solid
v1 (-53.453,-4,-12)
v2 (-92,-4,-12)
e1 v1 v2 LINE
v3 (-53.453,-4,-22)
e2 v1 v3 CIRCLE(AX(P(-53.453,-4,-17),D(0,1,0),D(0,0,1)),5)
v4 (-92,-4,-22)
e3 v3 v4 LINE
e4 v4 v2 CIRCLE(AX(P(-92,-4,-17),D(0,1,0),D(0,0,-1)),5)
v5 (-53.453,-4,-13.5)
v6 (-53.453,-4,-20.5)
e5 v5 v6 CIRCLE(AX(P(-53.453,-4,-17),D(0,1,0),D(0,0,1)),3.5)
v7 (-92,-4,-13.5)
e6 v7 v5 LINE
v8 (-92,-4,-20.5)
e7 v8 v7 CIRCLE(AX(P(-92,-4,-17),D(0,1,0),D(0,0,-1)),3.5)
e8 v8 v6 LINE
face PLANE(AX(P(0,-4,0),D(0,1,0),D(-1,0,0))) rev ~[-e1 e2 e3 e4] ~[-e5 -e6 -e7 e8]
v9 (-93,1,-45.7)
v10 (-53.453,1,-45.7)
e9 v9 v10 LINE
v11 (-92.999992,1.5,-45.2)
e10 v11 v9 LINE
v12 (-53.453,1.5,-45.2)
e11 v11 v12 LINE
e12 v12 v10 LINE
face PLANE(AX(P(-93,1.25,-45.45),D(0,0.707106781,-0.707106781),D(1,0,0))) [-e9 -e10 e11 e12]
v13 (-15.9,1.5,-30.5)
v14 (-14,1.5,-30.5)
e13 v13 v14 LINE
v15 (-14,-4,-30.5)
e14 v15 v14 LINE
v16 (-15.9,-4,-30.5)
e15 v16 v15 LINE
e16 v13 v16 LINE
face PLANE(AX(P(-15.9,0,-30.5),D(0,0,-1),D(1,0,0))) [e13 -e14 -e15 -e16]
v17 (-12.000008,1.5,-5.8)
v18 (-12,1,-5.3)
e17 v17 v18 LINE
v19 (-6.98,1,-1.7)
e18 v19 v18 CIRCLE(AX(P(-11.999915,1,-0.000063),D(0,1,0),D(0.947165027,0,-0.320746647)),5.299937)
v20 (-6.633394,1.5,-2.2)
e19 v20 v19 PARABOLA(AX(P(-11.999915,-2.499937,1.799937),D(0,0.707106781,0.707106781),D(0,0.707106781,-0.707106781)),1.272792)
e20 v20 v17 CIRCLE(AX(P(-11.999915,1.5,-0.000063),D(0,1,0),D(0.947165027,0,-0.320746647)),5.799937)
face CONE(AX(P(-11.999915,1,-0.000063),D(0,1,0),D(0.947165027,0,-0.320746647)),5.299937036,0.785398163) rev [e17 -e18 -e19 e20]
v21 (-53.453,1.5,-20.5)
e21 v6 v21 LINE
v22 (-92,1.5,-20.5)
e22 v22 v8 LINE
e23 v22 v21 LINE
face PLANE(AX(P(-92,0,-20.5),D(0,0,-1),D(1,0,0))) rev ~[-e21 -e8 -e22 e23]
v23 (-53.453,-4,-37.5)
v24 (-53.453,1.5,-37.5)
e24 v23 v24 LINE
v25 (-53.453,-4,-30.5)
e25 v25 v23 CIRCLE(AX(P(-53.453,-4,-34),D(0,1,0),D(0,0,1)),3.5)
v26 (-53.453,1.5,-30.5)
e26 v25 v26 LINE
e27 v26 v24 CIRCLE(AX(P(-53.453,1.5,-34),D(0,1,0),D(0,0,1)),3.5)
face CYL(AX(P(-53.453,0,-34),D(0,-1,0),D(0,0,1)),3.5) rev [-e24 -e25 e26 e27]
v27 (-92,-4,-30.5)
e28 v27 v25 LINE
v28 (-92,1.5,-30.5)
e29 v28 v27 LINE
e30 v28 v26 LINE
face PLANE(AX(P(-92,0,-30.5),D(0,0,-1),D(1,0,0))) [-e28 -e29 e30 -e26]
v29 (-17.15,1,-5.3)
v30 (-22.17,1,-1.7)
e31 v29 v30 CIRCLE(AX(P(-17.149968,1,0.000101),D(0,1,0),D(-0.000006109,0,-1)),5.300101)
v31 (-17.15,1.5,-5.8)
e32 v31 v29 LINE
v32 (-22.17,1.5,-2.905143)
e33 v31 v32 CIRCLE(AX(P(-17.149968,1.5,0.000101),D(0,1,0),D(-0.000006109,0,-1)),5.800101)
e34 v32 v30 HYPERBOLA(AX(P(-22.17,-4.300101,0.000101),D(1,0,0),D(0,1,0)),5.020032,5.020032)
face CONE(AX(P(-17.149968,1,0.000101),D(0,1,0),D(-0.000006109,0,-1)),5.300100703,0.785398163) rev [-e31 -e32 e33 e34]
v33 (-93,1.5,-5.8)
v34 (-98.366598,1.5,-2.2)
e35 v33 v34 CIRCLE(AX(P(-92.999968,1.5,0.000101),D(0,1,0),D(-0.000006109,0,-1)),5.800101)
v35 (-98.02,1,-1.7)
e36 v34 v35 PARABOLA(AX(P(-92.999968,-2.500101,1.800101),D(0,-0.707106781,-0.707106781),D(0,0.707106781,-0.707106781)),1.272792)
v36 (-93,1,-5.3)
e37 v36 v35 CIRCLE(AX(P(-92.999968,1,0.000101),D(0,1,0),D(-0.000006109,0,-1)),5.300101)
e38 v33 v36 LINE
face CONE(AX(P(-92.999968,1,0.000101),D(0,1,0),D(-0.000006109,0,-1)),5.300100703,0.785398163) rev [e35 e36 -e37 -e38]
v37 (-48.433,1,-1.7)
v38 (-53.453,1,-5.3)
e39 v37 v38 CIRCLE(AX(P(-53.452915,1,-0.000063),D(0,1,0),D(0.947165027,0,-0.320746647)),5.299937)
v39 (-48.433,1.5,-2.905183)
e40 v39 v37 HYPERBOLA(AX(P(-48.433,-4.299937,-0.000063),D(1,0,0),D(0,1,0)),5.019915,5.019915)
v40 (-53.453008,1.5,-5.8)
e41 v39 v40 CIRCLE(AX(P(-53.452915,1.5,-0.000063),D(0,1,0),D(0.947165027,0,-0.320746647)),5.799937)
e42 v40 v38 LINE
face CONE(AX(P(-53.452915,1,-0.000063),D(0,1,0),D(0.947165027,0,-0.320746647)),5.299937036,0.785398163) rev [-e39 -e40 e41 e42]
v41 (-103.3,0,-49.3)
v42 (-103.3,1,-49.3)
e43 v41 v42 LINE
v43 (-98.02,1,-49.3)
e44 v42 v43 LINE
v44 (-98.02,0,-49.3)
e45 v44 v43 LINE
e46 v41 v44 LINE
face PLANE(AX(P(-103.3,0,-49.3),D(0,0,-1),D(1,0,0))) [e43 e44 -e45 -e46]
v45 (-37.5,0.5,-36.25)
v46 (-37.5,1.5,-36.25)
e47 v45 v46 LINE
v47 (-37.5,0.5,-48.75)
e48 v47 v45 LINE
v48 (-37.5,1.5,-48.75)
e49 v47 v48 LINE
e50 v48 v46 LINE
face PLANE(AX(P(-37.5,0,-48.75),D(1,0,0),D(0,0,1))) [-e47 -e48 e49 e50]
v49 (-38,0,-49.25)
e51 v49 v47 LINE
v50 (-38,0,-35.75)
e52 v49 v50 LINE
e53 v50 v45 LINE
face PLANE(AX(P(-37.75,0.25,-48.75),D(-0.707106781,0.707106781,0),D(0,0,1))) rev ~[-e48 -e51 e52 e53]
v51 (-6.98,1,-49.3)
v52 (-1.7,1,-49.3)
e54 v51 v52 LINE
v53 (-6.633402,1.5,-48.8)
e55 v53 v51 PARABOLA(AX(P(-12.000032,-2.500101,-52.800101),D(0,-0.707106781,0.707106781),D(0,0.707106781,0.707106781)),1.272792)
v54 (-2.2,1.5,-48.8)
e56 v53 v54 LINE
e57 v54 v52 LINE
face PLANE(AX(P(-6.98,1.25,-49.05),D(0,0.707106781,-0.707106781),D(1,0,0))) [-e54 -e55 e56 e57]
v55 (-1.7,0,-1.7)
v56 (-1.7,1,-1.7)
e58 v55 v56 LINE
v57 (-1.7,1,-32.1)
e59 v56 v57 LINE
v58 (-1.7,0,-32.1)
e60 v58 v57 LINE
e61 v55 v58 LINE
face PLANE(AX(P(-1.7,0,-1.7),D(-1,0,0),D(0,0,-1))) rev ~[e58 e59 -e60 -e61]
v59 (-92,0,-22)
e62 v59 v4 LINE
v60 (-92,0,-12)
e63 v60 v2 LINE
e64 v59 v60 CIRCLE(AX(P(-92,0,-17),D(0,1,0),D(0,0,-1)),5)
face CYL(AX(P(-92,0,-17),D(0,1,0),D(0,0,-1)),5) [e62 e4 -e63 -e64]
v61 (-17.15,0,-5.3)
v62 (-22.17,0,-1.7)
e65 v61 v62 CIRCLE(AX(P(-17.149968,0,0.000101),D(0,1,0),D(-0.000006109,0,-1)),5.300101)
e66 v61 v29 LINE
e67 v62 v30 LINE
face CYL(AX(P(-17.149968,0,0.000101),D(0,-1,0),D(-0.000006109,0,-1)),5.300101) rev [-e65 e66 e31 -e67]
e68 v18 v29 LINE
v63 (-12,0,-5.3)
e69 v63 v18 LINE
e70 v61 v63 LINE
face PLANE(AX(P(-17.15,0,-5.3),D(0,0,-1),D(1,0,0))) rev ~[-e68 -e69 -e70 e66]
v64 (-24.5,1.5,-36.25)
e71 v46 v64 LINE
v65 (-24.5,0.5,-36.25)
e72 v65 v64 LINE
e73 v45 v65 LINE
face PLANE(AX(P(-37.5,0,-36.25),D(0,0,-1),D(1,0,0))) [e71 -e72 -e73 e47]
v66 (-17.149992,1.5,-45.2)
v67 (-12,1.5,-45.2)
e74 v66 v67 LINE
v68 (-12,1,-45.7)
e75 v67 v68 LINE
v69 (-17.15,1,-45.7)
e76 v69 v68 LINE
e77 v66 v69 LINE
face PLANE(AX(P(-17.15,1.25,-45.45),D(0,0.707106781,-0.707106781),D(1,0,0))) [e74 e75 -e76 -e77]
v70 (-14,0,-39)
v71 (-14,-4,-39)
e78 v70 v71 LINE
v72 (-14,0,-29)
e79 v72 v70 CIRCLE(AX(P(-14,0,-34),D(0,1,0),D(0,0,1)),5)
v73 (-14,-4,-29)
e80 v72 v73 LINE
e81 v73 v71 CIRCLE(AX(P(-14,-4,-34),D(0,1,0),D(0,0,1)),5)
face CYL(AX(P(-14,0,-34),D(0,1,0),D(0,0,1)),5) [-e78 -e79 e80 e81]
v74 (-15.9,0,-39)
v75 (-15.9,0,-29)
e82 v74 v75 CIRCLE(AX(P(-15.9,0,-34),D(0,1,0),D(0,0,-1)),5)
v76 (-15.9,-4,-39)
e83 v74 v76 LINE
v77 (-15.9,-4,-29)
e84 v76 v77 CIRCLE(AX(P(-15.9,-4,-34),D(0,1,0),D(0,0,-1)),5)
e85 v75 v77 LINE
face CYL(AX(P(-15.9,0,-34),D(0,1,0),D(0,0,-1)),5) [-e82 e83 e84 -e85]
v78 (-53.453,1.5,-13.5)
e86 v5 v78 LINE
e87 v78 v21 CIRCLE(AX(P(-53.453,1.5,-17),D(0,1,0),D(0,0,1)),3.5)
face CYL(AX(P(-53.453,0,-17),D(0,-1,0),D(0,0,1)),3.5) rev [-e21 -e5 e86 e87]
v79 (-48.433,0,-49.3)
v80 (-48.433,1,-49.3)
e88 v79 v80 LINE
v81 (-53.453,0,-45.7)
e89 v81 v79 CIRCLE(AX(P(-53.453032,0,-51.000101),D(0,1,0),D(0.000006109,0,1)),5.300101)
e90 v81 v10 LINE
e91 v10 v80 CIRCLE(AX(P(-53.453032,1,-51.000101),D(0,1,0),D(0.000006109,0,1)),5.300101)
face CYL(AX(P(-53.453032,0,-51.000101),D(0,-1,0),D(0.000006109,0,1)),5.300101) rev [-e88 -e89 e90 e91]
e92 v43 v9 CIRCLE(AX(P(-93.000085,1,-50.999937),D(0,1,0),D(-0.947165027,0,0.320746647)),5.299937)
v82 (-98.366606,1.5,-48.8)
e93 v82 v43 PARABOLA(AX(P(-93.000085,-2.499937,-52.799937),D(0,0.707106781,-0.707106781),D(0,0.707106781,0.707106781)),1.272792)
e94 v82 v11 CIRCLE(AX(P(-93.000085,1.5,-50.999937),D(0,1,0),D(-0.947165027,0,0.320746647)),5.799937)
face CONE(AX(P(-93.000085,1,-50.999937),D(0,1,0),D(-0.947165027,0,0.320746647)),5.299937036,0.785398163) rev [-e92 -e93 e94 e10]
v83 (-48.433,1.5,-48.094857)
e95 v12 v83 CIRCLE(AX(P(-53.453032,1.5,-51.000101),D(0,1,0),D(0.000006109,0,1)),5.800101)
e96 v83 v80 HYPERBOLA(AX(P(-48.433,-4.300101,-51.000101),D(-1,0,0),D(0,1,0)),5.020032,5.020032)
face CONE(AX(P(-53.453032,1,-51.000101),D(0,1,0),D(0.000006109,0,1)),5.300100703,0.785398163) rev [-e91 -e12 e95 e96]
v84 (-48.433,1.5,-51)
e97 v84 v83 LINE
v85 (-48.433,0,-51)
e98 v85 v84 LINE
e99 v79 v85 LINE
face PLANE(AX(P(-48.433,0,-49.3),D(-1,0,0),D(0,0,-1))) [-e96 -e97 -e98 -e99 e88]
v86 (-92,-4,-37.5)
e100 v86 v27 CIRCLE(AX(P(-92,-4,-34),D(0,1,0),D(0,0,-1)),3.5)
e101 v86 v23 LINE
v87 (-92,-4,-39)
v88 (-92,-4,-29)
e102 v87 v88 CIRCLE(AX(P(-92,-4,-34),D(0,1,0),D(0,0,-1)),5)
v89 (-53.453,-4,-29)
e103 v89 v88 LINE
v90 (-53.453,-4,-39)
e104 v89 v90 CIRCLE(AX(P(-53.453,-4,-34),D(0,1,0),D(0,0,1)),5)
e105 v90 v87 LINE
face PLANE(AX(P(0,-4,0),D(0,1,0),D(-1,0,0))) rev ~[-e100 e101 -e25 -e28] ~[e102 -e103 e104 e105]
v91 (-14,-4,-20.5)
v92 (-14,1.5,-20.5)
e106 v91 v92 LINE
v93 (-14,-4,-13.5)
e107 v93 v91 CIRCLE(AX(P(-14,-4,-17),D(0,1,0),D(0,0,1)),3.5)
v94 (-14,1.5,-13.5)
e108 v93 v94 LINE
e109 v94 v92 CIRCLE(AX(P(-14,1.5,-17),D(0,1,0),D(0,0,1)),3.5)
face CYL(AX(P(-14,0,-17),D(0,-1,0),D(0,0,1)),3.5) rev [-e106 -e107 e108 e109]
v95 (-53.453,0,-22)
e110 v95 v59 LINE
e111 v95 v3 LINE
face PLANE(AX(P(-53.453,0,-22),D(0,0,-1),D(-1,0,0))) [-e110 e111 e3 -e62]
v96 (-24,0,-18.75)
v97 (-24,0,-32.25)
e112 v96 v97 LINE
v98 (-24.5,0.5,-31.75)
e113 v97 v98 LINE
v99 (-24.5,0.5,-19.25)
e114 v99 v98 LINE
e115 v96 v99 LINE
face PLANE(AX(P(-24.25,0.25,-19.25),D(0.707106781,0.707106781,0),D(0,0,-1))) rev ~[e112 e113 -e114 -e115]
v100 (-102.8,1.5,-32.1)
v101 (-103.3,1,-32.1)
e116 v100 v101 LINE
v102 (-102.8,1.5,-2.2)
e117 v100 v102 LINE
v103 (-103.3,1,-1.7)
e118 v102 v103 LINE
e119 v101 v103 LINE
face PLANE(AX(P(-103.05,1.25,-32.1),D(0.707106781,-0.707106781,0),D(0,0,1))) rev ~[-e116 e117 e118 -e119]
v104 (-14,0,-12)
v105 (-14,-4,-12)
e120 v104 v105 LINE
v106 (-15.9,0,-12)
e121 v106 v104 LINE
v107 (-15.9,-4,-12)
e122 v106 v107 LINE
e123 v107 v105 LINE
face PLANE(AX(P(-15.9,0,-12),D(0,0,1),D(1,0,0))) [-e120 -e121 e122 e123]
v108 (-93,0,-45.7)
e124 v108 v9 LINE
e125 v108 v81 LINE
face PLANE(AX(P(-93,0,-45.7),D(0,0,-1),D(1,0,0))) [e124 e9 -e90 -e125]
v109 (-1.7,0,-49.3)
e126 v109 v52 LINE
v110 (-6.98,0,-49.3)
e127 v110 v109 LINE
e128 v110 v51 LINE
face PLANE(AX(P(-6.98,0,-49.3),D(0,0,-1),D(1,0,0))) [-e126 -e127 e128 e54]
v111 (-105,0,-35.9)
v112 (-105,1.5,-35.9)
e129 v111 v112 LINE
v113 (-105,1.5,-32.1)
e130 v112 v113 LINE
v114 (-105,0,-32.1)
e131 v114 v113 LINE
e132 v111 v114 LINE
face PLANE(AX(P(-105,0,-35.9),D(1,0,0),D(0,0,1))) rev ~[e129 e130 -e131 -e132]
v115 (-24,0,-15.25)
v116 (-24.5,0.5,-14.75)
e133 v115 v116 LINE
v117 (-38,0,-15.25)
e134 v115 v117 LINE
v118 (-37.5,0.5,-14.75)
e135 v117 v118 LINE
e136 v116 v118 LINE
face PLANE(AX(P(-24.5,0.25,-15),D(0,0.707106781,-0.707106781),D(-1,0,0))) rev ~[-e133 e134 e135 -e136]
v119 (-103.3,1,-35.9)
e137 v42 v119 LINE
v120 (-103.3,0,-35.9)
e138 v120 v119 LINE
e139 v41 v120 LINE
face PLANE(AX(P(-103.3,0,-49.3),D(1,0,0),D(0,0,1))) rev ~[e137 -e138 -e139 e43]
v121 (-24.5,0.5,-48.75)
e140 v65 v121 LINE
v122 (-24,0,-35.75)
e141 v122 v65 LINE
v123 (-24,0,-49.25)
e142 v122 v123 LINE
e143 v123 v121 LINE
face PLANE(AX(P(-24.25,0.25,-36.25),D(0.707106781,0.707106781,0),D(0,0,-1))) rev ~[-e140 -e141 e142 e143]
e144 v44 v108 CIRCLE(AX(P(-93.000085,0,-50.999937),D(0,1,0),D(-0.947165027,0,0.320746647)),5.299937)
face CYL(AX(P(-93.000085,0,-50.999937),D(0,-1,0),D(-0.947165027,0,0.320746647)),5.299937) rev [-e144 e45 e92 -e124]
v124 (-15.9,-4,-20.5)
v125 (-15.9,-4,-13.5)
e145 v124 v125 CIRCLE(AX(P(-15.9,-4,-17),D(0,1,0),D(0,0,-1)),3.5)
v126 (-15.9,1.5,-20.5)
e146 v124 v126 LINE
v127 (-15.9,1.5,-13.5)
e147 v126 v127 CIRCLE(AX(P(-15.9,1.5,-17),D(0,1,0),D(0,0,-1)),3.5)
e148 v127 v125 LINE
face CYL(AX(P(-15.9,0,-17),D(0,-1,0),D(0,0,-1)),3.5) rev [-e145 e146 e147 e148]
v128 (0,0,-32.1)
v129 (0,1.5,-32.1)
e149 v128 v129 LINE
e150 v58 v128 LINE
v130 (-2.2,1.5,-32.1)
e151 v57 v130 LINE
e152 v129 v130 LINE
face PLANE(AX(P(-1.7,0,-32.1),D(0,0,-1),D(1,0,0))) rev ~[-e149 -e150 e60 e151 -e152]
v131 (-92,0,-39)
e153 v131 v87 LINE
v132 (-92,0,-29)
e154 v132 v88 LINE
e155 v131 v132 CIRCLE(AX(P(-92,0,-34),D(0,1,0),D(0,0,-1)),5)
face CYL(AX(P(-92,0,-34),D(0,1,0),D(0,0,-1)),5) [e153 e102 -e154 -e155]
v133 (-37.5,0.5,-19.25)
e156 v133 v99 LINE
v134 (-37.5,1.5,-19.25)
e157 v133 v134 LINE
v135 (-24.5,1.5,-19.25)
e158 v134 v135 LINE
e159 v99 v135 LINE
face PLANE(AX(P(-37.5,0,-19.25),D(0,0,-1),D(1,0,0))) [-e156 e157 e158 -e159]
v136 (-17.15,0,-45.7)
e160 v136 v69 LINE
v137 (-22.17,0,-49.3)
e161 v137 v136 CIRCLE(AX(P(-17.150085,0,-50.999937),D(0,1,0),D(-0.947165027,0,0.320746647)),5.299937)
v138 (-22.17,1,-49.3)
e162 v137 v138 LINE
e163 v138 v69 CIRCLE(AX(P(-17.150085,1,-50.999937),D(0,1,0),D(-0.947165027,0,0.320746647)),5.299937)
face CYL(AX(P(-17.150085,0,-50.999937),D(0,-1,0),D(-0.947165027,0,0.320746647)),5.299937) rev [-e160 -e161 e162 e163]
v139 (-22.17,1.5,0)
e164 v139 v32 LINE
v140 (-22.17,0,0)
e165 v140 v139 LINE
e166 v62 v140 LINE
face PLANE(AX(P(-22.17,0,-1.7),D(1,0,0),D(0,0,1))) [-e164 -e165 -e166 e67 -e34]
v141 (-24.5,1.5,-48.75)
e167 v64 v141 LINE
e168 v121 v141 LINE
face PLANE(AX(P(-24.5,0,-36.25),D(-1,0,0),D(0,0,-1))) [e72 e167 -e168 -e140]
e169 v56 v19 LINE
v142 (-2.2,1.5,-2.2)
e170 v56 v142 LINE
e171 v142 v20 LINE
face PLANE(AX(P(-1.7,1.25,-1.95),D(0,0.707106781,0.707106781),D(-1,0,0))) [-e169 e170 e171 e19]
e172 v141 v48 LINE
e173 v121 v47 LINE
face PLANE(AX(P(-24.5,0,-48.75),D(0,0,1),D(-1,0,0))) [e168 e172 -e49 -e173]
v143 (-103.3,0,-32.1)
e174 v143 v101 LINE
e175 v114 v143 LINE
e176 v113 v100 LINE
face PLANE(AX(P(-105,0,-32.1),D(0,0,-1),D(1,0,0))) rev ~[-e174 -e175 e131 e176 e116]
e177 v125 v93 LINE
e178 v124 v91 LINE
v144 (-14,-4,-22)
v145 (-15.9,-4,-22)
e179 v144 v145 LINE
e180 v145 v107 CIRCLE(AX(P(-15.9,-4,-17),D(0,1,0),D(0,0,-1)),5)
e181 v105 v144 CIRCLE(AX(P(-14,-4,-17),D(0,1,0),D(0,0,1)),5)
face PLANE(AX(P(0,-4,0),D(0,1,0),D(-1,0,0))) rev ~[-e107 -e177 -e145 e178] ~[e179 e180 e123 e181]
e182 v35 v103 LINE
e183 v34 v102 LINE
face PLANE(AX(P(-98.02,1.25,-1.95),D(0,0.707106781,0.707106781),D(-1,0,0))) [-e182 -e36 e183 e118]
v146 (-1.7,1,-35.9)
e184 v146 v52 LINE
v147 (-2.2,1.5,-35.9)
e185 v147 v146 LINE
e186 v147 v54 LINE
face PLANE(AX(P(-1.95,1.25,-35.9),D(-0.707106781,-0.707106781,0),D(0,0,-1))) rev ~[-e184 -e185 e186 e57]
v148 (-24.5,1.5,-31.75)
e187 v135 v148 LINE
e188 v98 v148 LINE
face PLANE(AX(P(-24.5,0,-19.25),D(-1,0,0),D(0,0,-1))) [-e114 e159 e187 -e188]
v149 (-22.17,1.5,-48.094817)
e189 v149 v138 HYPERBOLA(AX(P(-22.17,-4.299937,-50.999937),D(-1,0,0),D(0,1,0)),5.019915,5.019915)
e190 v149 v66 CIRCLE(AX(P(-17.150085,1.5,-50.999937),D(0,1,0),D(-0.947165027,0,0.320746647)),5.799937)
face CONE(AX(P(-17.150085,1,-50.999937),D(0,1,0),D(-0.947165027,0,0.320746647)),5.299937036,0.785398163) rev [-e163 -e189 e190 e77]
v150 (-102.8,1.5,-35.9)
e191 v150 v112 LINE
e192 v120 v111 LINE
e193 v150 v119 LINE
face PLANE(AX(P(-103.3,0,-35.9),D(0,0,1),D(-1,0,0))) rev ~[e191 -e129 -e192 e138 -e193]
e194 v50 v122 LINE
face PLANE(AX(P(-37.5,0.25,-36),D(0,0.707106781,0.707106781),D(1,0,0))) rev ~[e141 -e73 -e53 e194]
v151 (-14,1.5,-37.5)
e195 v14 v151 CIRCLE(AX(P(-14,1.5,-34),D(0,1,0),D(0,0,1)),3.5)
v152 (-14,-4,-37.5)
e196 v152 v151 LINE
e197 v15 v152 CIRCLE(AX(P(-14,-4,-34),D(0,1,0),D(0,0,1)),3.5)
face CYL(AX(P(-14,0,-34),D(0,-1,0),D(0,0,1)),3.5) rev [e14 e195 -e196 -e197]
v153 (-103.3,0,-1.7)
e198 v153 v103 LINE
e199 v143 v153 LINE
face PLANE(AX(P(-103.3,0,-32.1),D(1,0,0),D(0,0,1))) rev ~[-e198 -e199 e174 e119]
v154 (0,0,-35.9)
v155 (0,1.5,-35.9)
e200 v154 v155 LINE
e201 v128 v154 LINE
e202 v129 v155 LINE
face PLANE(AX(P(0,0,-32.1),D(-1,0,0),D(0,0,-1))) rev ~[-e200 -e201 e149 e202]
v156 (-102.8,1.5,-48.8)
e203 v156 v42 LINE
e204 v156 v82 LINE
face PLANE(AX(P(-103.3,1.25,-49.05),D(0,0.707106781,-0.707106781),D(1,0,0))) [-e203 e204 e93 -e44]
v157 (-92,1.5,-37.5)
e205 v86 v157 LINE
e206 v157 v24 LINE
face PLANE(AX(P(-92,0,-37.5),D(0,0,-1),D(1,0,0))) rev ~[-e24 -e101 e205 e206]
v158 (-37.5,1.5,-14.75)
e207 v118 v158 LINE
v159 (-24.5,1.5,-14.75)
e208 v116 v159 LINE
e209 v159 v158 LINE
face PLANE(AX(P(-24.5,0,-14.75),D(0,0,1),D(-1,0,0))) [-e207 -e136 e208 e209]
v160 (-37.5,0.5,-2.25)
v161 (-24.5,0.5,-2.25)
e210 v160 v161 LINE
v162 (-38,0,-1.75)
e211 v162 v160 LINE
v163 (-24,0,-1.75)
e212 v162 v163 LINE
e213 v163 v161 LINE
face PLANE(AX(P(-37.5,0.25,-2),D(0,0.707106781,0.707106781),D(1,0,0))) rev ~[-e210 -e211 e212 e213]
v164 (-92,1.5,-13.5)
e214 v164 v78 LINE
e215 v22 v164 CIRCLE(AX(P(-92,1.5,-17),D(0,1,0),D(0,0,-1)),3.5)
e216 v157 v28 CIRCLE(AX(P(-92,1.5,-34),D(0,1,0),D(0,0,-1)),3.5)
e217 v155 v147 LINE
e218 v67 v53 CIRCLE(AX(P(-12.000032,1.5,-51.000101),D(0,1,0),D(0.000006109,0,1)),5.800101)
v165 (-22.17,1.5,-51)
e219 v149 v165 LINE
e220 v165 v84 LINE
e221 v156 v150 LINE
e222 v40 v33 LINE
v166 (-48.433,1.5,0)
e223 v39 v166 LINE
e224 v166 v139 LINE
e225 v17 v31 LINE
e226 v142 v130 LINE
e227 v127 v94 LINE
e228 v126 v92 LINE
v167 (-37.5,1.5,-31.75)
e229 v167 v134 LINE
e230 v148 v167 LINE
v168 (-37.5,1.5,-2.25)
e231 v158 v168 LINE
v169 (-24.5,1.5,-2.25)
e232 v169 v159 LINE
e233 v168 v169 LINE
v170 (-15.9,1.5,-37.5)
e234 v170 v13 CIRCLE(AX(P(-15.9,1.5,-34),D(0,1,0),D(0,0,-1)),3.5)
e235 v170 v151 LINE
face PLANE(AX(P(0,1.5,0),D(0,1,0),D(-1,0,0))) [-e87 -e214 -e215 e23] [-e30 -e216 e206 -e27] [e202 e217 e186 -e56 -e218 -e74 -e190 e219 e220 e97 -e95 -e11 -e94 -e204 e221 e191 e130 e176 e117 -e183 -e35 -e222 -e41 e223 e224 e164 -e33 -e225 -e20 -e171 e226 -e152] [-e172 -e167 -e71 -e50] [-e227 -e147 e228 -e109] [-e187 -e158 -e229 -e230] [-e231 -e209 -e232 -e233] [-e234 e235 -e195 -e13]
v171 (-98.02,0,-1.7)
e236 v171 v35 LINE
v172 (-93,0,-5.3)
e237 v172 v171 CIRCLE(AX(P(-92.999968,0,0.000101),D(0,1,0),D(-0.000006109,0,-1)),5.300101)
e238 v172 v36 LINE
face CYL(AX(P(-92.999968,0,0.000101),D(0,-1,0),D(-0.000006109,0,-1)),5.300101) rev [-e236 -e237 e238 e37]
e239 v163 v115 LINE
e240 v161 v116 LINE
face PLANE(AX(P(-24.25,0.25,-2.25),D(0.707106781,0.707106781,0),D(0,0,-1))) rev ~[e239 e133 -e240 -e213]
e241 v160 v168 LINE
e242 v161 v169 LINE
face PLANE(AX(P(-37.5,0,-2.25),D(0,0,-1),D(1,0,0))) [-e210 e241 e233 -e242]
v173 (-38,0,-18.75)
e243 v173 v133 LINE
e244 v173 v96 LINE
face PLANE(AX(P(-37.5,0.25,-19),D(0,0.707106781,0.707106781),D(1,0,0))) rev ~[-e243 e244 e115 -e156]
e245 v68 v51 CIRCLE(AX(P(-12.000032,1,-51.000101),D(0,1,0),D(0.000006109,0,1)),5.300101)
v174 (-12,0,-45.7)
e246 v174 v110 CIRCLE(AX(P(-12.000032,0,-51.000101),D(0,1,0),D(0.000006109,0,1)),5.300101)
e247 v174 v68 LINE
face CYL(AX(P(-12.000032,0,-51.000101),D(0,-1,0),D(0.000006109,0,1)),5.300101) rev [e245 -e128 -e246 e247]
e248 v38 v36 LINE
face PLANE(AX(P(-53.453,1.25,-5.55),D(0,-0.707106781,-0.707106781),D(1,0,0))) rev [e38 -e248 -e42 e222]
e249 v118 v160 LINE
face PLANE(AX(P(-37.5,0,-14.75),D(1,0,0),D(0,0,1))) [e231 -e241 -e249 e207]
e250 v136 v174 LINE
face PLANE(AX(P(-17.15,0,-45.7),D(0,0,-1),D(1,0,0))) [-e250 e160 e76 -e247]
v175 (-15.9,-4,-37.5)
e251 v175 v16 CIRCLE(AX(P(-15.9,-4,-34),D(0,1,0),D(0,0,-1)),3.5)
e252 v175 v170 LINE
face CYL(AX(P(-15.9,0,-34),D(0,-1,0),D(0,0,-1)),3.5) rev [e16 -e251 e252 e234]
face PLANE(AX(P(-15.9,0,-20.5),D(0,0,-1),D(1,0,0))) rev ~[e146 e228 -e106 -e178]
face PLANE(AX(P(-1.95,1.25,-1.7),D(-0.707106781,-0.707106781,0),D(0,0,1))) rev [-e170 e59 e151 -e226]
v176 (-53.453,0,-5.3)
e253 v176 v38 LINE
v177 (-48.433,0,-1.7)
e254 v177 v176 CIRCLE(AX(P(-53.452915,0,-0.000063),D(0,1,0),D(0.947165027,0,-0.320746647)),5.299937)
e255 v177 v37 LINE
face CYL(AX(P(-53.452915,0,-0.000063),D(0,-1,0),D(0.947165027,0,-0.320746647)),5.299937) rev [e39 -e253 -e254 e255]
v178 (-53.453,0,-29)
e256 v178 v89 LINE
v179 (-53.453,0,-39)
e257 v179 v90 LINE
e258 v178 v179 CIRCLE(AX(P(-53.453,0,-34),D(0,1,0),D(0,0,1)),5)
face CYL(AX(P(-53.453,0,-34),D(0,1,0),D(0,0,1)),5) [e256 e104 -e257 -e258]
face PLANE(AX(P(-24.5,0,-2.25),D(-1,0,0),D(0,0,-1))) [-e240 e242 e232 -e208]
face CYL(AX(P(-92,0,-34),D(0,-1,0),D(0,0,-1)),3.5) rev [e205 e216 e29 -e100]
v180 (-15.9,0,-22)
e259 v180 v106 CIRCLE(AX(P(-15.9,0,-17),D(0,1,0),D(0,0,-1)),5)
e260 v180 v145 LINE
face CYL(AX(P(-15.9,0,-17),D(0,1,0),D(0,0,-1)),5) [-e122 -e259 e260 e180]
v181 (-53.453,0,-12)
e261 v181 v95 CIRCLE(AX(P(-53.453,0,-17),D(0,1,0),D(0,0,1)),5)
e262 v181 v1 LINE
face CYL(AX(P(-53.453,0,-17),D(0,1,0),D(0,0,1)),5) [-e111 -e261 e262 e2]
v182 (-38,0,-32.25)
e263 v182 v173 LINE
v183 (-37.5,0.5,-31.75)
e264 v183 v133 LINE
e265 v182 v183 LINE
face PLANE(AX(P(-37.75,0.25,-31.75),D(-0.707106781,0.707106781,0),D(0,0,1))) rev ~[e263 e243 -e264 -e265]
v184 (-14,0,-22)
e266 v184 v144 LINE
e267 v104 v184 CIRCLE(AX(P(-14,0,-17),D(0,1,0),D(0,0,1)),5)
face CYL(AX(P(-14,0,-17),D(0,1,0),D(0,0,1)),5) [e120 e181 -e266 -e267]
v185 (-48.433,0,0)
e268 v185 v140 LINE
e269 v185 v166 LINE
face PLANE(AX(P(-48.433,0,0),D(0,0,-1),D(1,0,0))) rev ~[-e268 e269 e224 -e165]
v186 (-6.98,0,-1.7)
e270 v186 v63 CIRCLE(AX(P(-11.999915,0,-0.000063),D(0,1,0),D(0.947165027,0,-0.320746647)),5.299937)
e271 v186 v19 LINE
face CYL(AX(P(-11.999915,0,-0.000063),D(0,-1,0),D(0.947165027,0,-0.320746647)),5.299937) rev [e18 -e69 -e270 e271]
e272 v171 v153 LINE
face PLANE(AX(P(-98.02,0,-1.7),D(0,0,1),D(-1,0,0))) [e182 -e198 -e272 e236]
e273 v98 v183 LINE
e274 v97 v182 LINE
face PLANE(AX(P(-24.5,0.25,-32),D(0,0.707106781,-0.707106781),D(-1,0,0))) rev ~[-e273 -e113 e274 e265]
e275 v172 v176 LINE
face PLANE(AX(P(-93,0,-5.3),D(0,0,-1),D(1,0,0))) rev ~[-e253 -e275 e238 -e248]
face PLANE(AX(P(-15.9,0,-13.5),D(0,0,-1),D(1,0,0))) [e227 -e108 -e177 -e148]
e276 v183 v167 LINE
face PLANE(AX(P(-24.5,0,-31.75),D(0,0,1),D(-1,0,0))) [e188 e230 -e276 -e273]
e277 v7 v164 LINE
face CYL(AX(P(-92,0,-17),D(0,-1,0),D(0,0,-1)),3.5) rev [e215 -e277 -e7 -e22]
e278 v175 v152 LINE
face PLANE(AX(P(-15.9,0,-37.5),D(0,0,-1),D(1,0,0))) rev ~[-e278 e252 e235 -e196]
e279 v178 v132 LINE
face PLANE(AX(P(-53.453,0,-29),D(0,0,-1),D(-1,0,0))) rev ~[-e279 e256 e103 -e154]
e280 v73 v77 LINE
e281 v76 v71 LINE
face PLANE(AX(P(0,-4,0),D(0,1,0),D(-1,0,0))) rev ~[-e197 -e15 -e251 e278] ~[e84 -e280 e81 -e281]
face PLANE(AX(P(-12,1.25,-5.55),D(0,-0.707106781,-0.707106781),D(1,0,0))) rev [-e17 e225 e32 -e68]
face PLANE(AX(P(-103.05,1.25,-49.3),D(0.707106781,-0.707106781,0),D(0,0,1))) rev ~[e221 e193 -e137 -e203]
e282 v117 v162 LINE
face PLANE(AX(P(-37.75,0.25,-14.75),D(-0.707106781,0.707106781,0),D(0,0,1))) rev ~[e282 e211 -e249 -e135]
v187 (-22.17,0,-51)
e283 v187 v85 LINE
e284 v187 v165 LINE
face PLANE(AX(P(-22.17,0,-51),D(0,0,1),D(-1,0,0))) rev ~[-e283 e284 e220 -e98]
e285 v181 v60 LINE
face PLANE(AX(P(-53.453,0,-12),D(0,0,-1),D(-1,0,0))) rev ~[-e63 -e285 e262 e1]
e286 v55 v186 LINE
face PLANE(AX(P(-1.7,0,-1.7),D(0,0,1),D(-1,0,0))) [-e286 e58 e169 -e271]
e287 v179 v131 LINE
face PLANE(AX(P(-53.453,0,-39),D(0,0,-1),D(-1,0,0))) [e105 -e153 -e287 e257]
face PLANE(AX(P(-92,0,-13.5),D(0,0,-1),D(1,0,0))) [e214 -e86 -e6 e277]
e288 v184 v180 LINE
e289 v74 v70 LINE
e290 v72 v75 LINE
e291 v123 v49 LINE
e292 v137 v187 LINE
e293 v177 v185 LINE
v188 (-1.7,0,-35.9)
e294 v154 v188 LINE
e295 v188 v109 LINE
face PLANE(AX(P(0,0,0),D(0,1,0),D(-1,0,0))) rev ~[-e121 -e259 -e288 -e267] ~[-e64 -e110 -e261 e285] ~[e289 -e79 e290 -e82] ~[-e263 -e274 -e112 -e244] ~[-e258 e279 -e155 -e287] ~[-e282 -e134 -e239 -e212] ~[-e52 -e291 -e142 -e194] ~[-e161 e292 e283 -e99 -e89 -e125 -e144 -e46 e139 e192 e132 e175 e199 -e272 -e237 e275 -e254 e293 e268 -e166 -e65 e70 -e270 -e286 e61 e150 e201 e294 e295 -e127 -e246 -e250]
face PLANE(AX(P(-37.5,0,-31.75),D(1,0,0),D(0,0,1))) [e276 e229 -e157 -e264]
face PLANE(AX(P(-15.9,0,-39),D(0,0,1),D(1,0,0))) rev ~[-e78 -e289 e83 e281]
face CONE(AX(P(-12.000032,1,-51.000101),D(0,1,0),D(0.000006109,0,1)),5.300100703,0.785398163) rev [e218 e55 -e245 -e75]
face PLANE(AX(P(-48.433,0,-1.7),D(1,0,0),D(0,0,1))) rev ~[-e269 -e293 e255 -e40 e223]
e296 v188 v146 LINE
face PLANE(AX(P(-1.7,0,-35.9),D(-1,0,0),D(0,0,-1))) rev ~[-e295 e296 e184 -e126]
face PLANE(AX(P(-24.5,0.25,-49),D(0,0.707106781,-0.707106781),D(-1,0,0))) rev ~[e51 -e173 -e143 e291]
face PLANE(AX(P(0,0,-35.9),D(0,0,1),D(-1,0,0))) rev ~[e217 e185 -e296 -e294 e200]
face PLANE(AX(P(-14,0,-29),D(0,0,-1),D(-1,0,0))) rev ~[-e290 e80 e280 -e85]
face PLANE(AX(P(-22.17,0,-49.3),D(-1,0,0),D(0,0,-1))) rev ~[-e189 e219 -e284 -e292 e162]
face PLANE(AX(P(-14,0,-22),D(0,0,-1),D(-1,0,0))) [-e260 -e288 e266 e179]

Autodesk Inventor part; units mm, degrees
ref_plane "YZ Plane" through (0, 0, 0) normal (1, 0, 0) x (0, 1, 0)
ref_plane "XZ Plane" through (0, 0, 0) normal (0, 1, 0) x (-1, 0, 0)
ref_plane "XY Plane" through (0, 0, 0) normal (0, 0, 1) x (1, 0, 0)
sketch "Sketch1" plane through (0, 0, 0) normal (0, 1, 0) x (-1, 0, 0)
  line L0 (37.5, -2.25) -> (24.5, -2.25)
  line L1 (24.5, -2.25) -> (24.5, -14.75)
  line L2 (24.5, -14.75) -> (37.5, -14.75)
  line L3 (37.5, -14.75) -> (37.5, -2.25)
  line L4 (56.9183, -8.5) -> (8.3915, -8.5) construction
  line L5 (0, -17) -> (105, -17) construction
  line L6 (0, 0) -> (0, -51)
  line L7 (0, -34) -> (105, -34) construction
  line L8 (105, -51) -> (105, 0)
  line L9 (31, 19) -> (31, -51) construction
  line L10 (56.8064, -25.5) -> (17, -25.5) construction
  line L11 (24.5, -19.25) -> (24.5, -31.75)
  line L12 (37.5, -19.25) -> (24.5, -19.25)
  line L13 (37.5, -31.75) -> (37.5, -19.25)
  line L14 (24.5, -31.75) -> (37.5, -31.75)
  line L15 (24.5, -36.25) -> (24.5, -48.75)
  line L16 (37.5, -36.25) -> (24.5, -36.25)
  line L17 (37.5, -48.75) -> (37.5, -36.25)
  line L18 (24.5, -48.75) -> (37.5, -48.75)
  line L19 (56.3008, -42.5) -> (16.5498, -42.5) construction
  arc A0 (53.453, -12) -> (53.453, -22) centre (53.453, -17) ccw
  arc A1 (92, -22) -> (92, -12) centre (92, -17) ccw
  arc A2 (53.453, -29) -> (53.453, -39) centre (53.453, -34) ccw
  arc A3 (92, -39) -> (92, -29) centre (92, -34) ccw
  line L20 (53.453, -12) -> (92, -12)
  line L21 (53.453, -22) -> (92, -22)
  line L22 (53.453, -29) -> (92, -29)
  line L23 (53.453, -39) -> (92, -39)
  arc A4 (15.9, -39) -> (15.9, -29) centre (15.9, -34) ccw
  line L24 (103.3, -49.3) -> (103.3, -1.7)
  line L25 (1.7, -1.7) -> (1.7, -49.3)
  arc A5 (14, -29) -> (14, -39) centre (14, -34) ccw
  arc A6 (14, -12) -> (14, -22) centre (14, -17) ccw
  line L26 (15.9, -39) -> (14, -39)
  line L27 (14, -29) -> (15.9, -29)
  line L28 (14, -22) -> (15.9, -22)
  line L29 (15.9, -12) -> (14, -12)
  arc A7 (15.9, -22) -> (15.9, -12) centre (15.9, -17) ccw
  arc A8 (96.5, -51) -> (93, -47.5) centre (93, -51) ccw
  arc A9 (53.453, -47.5) -> (49.953, -51) centre (53.453, -51) ccw
  arc A10 (98.02, -49.3) -> (93, -45.7) centre (93, -51) ccw
  line L30 (93, -45.7) -> (53.453, -45.7)
  line L31 (96.5, -51) -> (105, -51)
  line L32 (93, -47.5) -> (53.453, -47.5)
  line L33 (105, -49.3) -> (98.02, -49.3)
  arc A11 (53.453, -45.7) -> (48.433, -49.3) centre (53.453, -51) ccw
  arc A12 (48.433, -1.7) -> (53.453, -5.3) centre (53.453, 0) ccw
  arc A13 (49.953, 0) -> (53.453, -3.5) centre (53.453, 0) ccw
  line L34 (93, -3.5) -> (53.453, -3.5)
  line L35 (93, -5.3) -> (53.453, -5.3)
  line L36 (98.02, -1.7) -> (105, -1.7)
  line L37 (105, 0) -> (96.5, 0)
  arc A14 (93, -3.5) -> (96.5, 0) centre (93, 0) ccw
  arc A15 (93, -5.3) -> (98.02, -1.7) centre (93, 0) ccw
  arc A16 (20.65, -51) -> (17.15, -47.5) centre (17.15, -51) ccw
  arc A17 (12, -47.5) -> (8.5, -51) centre (12, -51) ccw
  line L38 (17.15, -45.7) -> (12, -45.7)
  line L39 (17.15, -47.5) -> (12, -47.5)
  arc A18 (12, -45.7) -> (6.98, -49.3) centre (12, -51) ccw
  arc A19 (22.17, -49.3) -> (17.15, -45.7) centre (17.15, -51) ccw
  line L40 (48.433, -49.3) -> (22.17, -49.3)
  line L41 (6.98, -49.3) -> (0, -49.3)
  line L42 (0, -51) -> (8.5, -51)
  line L43 (20.65, -51) -> (49.953, -51)
  line L44 (17.15, -5.3) -> (12, -5.3)
  line L45 (17.15, -3.5) -> (12, -3.5)
  arc A20 (8.5, 0) -> (12, -3.5) centre (12, 0) ccw
  arc A21 (17.15, -3.5) -> (20.65, 0) centre (17.15, 0) ccw
  arc A22 (6.98, -1.7) -> (12, -5.3) centre (12, 0) ccw
  arc A23 (17.15, -5.3) -> (22.17, -1.7) centre (17.15, 0) ccw
  line L46 (49.953, 0) -> (20.65, 0)
  line L47 (8.5, 0) -> (0, 0)
  line L48 (0, -1.7) -> (6.98, -1.7)
  line L49 (22.17, -1.7) -> (48.433, -1.7)
  line L50 (48.433, -49.3) -> (48.433, -51)
  line L51 (22.17, -49.3) -> (22.17, -51)
  line L52 (48.433, -1.7) -> (48.433, 0)
  line L53 (22.17, -1.7) -> (22.17, 0)
  line L54 (103.3, -35.9) -> (105, -35.9)
  line L55 (105, -32.1) -> (103.3, -32.1)
  line L56 (1.7, -32.1) -> (0, -32.1)
  line L57 (0, -35.9) -> (1.7, -35.9)
  arc A24 (92, -20.5) -> (92, -13.5) centre (92, -17) ccw
  arc A25 (53.453, -13.5) -> (53.453, -20.5) centre (53.453, -17) ccw
  arc A26 (92, -37.5) -> (92, -30.5) centre (92, -34) ccw
  arc A27 (53.453, -30.5) -> (53.453, -37.5) centre (53.453, -34) ccw
  arc A28 (15.9, -20.5) -> (15.9, -13.5) centre (15.9, -17) ccw
  arc A29 (14, -13.5) -> (14, -20.5) centre (14, -17) ccw
  arc A30 (15.9, -37.5) -> (15.9, -30.5) centre (15.9, -34) ccw
  arc A31 (14, -30.5) -> (14, -37.5) centre (14, -34) ccw
  line L58 (92, -13.5) -> (53.453, -13.5)
  line L59 (92, -20.5) -> (53.453, -20.5)
  line L60 (92, -30.5) -> (53.453, -30.5)
  line L61 (92, -37.5) -> (53.453, -37.5)
  line L62 (15.9, -30.5) -> (14, -30.5)
  line L63 (15.9, -37.5) -> (14, -37.5)
  line L64 (15.9, -20.5) -> (14, -20.5)
  line L65 (15.9, -13.5) -> (14, -13.5)
  point P0 (31, -42.5)
  point P1 (31, -25.5)
  point P2 (31, -8.5)
  dimension "d0" = 13
  dimension "d1" = 12.5
  dimension "d12" = 17
  dimension "d18" = 105
  dimension "d20" = 17
  dimension "d22" = 17
  dimension "d32" = 10
  dimension "d33" = 1.7
  dimension "d34" = 1.7
  dimension "d38" = 5
  dimension "d43" = 1.7
  dimension "d44" = 1.7
  dimension "d45" = 17
  dimension "d50" = 17
  dimension "d51" = 12
  dimension "d52" = 13
  dimension "d56" = 12
  dimension "d67" = 3.5
  dimension "d68" = 1.8
  dimension "d72" = 14
  dimension "d73" = 22.453
  dimension "d74" = 13.85
  dimension "d75" = 31
  dimension "d76" = 8.6
  dimension "d77" = 3.8
  dimension "d78" = 7
extrude "Extrusion1" add sketch "Sketch1" along normal blind 1.5 contours L56 L25 L57 L6 | L48 A22 L44 A23 L49 A12 L35 A15 L36 L24 L33 A10 L30 A11 L40 A19 L38 A18 L41 L25 | L46 L52 L49 L53 | L40 L50 L43 L51 | L55 L8 L54 L24 | L20 A1 L21 A0 | L22 A3 L23 A2 | L26 A5 L27 A4 | L29 A7 L28 A6
chamfer "Chamfer1" distance 0.5 angle 45 32 edges at (-31, 0, -36.25) (-37.5, 0, -42.5) (-24.5, 0, -42.5) (-31, 0, -48.75) (-31, 0, -31.75) (-37.5, 0, -25.5) (-31, 0, -19.25) (-24.5, 0, -25.5) (-31, 0, -14.75) (-37.5, 0, -8.5) (-31, 0, -2.25) (-24.5, 0, -8.5) (-73.2265, 1.5, -45.7) (-96.0887, 1.5, -46.693) (-50.3643, 1.5, -46.693) (-100.66, 1.5, -49.3) (-103.3, 1.5, -42.6) (-103.3, 1.5, -16.9) (-100.66, 1.5, -1.7) (-96.0887, 1.5, -4.307) (-73.2265, 1.5, -5.3) (-50.3643, 1.5, -4.307) (-20.2387, 1.5, -4.307) (-14.575, 1.5, -5.3) (-8.9113, 1.5, -4.307) (-20.2387, 1.5, -46.693) (-14.575, 1.5, -45.7) (-8.9113, 1.5, -46.693) (-4.34, 1.5, -49.3) (-1.7, 1.5, -16.9) (-1.7, 1.5, -42.6) (-4.34, 1.5, -1.7)
extrude "Extrusion3" add sketch "Sketch1" against normal blind 4 contours L20 A1 L21 A0 | L22 A3 L23 A2 | L26 A5 L27 A4 | L29 A7 L28 A6
properties part number "Top_V4"
